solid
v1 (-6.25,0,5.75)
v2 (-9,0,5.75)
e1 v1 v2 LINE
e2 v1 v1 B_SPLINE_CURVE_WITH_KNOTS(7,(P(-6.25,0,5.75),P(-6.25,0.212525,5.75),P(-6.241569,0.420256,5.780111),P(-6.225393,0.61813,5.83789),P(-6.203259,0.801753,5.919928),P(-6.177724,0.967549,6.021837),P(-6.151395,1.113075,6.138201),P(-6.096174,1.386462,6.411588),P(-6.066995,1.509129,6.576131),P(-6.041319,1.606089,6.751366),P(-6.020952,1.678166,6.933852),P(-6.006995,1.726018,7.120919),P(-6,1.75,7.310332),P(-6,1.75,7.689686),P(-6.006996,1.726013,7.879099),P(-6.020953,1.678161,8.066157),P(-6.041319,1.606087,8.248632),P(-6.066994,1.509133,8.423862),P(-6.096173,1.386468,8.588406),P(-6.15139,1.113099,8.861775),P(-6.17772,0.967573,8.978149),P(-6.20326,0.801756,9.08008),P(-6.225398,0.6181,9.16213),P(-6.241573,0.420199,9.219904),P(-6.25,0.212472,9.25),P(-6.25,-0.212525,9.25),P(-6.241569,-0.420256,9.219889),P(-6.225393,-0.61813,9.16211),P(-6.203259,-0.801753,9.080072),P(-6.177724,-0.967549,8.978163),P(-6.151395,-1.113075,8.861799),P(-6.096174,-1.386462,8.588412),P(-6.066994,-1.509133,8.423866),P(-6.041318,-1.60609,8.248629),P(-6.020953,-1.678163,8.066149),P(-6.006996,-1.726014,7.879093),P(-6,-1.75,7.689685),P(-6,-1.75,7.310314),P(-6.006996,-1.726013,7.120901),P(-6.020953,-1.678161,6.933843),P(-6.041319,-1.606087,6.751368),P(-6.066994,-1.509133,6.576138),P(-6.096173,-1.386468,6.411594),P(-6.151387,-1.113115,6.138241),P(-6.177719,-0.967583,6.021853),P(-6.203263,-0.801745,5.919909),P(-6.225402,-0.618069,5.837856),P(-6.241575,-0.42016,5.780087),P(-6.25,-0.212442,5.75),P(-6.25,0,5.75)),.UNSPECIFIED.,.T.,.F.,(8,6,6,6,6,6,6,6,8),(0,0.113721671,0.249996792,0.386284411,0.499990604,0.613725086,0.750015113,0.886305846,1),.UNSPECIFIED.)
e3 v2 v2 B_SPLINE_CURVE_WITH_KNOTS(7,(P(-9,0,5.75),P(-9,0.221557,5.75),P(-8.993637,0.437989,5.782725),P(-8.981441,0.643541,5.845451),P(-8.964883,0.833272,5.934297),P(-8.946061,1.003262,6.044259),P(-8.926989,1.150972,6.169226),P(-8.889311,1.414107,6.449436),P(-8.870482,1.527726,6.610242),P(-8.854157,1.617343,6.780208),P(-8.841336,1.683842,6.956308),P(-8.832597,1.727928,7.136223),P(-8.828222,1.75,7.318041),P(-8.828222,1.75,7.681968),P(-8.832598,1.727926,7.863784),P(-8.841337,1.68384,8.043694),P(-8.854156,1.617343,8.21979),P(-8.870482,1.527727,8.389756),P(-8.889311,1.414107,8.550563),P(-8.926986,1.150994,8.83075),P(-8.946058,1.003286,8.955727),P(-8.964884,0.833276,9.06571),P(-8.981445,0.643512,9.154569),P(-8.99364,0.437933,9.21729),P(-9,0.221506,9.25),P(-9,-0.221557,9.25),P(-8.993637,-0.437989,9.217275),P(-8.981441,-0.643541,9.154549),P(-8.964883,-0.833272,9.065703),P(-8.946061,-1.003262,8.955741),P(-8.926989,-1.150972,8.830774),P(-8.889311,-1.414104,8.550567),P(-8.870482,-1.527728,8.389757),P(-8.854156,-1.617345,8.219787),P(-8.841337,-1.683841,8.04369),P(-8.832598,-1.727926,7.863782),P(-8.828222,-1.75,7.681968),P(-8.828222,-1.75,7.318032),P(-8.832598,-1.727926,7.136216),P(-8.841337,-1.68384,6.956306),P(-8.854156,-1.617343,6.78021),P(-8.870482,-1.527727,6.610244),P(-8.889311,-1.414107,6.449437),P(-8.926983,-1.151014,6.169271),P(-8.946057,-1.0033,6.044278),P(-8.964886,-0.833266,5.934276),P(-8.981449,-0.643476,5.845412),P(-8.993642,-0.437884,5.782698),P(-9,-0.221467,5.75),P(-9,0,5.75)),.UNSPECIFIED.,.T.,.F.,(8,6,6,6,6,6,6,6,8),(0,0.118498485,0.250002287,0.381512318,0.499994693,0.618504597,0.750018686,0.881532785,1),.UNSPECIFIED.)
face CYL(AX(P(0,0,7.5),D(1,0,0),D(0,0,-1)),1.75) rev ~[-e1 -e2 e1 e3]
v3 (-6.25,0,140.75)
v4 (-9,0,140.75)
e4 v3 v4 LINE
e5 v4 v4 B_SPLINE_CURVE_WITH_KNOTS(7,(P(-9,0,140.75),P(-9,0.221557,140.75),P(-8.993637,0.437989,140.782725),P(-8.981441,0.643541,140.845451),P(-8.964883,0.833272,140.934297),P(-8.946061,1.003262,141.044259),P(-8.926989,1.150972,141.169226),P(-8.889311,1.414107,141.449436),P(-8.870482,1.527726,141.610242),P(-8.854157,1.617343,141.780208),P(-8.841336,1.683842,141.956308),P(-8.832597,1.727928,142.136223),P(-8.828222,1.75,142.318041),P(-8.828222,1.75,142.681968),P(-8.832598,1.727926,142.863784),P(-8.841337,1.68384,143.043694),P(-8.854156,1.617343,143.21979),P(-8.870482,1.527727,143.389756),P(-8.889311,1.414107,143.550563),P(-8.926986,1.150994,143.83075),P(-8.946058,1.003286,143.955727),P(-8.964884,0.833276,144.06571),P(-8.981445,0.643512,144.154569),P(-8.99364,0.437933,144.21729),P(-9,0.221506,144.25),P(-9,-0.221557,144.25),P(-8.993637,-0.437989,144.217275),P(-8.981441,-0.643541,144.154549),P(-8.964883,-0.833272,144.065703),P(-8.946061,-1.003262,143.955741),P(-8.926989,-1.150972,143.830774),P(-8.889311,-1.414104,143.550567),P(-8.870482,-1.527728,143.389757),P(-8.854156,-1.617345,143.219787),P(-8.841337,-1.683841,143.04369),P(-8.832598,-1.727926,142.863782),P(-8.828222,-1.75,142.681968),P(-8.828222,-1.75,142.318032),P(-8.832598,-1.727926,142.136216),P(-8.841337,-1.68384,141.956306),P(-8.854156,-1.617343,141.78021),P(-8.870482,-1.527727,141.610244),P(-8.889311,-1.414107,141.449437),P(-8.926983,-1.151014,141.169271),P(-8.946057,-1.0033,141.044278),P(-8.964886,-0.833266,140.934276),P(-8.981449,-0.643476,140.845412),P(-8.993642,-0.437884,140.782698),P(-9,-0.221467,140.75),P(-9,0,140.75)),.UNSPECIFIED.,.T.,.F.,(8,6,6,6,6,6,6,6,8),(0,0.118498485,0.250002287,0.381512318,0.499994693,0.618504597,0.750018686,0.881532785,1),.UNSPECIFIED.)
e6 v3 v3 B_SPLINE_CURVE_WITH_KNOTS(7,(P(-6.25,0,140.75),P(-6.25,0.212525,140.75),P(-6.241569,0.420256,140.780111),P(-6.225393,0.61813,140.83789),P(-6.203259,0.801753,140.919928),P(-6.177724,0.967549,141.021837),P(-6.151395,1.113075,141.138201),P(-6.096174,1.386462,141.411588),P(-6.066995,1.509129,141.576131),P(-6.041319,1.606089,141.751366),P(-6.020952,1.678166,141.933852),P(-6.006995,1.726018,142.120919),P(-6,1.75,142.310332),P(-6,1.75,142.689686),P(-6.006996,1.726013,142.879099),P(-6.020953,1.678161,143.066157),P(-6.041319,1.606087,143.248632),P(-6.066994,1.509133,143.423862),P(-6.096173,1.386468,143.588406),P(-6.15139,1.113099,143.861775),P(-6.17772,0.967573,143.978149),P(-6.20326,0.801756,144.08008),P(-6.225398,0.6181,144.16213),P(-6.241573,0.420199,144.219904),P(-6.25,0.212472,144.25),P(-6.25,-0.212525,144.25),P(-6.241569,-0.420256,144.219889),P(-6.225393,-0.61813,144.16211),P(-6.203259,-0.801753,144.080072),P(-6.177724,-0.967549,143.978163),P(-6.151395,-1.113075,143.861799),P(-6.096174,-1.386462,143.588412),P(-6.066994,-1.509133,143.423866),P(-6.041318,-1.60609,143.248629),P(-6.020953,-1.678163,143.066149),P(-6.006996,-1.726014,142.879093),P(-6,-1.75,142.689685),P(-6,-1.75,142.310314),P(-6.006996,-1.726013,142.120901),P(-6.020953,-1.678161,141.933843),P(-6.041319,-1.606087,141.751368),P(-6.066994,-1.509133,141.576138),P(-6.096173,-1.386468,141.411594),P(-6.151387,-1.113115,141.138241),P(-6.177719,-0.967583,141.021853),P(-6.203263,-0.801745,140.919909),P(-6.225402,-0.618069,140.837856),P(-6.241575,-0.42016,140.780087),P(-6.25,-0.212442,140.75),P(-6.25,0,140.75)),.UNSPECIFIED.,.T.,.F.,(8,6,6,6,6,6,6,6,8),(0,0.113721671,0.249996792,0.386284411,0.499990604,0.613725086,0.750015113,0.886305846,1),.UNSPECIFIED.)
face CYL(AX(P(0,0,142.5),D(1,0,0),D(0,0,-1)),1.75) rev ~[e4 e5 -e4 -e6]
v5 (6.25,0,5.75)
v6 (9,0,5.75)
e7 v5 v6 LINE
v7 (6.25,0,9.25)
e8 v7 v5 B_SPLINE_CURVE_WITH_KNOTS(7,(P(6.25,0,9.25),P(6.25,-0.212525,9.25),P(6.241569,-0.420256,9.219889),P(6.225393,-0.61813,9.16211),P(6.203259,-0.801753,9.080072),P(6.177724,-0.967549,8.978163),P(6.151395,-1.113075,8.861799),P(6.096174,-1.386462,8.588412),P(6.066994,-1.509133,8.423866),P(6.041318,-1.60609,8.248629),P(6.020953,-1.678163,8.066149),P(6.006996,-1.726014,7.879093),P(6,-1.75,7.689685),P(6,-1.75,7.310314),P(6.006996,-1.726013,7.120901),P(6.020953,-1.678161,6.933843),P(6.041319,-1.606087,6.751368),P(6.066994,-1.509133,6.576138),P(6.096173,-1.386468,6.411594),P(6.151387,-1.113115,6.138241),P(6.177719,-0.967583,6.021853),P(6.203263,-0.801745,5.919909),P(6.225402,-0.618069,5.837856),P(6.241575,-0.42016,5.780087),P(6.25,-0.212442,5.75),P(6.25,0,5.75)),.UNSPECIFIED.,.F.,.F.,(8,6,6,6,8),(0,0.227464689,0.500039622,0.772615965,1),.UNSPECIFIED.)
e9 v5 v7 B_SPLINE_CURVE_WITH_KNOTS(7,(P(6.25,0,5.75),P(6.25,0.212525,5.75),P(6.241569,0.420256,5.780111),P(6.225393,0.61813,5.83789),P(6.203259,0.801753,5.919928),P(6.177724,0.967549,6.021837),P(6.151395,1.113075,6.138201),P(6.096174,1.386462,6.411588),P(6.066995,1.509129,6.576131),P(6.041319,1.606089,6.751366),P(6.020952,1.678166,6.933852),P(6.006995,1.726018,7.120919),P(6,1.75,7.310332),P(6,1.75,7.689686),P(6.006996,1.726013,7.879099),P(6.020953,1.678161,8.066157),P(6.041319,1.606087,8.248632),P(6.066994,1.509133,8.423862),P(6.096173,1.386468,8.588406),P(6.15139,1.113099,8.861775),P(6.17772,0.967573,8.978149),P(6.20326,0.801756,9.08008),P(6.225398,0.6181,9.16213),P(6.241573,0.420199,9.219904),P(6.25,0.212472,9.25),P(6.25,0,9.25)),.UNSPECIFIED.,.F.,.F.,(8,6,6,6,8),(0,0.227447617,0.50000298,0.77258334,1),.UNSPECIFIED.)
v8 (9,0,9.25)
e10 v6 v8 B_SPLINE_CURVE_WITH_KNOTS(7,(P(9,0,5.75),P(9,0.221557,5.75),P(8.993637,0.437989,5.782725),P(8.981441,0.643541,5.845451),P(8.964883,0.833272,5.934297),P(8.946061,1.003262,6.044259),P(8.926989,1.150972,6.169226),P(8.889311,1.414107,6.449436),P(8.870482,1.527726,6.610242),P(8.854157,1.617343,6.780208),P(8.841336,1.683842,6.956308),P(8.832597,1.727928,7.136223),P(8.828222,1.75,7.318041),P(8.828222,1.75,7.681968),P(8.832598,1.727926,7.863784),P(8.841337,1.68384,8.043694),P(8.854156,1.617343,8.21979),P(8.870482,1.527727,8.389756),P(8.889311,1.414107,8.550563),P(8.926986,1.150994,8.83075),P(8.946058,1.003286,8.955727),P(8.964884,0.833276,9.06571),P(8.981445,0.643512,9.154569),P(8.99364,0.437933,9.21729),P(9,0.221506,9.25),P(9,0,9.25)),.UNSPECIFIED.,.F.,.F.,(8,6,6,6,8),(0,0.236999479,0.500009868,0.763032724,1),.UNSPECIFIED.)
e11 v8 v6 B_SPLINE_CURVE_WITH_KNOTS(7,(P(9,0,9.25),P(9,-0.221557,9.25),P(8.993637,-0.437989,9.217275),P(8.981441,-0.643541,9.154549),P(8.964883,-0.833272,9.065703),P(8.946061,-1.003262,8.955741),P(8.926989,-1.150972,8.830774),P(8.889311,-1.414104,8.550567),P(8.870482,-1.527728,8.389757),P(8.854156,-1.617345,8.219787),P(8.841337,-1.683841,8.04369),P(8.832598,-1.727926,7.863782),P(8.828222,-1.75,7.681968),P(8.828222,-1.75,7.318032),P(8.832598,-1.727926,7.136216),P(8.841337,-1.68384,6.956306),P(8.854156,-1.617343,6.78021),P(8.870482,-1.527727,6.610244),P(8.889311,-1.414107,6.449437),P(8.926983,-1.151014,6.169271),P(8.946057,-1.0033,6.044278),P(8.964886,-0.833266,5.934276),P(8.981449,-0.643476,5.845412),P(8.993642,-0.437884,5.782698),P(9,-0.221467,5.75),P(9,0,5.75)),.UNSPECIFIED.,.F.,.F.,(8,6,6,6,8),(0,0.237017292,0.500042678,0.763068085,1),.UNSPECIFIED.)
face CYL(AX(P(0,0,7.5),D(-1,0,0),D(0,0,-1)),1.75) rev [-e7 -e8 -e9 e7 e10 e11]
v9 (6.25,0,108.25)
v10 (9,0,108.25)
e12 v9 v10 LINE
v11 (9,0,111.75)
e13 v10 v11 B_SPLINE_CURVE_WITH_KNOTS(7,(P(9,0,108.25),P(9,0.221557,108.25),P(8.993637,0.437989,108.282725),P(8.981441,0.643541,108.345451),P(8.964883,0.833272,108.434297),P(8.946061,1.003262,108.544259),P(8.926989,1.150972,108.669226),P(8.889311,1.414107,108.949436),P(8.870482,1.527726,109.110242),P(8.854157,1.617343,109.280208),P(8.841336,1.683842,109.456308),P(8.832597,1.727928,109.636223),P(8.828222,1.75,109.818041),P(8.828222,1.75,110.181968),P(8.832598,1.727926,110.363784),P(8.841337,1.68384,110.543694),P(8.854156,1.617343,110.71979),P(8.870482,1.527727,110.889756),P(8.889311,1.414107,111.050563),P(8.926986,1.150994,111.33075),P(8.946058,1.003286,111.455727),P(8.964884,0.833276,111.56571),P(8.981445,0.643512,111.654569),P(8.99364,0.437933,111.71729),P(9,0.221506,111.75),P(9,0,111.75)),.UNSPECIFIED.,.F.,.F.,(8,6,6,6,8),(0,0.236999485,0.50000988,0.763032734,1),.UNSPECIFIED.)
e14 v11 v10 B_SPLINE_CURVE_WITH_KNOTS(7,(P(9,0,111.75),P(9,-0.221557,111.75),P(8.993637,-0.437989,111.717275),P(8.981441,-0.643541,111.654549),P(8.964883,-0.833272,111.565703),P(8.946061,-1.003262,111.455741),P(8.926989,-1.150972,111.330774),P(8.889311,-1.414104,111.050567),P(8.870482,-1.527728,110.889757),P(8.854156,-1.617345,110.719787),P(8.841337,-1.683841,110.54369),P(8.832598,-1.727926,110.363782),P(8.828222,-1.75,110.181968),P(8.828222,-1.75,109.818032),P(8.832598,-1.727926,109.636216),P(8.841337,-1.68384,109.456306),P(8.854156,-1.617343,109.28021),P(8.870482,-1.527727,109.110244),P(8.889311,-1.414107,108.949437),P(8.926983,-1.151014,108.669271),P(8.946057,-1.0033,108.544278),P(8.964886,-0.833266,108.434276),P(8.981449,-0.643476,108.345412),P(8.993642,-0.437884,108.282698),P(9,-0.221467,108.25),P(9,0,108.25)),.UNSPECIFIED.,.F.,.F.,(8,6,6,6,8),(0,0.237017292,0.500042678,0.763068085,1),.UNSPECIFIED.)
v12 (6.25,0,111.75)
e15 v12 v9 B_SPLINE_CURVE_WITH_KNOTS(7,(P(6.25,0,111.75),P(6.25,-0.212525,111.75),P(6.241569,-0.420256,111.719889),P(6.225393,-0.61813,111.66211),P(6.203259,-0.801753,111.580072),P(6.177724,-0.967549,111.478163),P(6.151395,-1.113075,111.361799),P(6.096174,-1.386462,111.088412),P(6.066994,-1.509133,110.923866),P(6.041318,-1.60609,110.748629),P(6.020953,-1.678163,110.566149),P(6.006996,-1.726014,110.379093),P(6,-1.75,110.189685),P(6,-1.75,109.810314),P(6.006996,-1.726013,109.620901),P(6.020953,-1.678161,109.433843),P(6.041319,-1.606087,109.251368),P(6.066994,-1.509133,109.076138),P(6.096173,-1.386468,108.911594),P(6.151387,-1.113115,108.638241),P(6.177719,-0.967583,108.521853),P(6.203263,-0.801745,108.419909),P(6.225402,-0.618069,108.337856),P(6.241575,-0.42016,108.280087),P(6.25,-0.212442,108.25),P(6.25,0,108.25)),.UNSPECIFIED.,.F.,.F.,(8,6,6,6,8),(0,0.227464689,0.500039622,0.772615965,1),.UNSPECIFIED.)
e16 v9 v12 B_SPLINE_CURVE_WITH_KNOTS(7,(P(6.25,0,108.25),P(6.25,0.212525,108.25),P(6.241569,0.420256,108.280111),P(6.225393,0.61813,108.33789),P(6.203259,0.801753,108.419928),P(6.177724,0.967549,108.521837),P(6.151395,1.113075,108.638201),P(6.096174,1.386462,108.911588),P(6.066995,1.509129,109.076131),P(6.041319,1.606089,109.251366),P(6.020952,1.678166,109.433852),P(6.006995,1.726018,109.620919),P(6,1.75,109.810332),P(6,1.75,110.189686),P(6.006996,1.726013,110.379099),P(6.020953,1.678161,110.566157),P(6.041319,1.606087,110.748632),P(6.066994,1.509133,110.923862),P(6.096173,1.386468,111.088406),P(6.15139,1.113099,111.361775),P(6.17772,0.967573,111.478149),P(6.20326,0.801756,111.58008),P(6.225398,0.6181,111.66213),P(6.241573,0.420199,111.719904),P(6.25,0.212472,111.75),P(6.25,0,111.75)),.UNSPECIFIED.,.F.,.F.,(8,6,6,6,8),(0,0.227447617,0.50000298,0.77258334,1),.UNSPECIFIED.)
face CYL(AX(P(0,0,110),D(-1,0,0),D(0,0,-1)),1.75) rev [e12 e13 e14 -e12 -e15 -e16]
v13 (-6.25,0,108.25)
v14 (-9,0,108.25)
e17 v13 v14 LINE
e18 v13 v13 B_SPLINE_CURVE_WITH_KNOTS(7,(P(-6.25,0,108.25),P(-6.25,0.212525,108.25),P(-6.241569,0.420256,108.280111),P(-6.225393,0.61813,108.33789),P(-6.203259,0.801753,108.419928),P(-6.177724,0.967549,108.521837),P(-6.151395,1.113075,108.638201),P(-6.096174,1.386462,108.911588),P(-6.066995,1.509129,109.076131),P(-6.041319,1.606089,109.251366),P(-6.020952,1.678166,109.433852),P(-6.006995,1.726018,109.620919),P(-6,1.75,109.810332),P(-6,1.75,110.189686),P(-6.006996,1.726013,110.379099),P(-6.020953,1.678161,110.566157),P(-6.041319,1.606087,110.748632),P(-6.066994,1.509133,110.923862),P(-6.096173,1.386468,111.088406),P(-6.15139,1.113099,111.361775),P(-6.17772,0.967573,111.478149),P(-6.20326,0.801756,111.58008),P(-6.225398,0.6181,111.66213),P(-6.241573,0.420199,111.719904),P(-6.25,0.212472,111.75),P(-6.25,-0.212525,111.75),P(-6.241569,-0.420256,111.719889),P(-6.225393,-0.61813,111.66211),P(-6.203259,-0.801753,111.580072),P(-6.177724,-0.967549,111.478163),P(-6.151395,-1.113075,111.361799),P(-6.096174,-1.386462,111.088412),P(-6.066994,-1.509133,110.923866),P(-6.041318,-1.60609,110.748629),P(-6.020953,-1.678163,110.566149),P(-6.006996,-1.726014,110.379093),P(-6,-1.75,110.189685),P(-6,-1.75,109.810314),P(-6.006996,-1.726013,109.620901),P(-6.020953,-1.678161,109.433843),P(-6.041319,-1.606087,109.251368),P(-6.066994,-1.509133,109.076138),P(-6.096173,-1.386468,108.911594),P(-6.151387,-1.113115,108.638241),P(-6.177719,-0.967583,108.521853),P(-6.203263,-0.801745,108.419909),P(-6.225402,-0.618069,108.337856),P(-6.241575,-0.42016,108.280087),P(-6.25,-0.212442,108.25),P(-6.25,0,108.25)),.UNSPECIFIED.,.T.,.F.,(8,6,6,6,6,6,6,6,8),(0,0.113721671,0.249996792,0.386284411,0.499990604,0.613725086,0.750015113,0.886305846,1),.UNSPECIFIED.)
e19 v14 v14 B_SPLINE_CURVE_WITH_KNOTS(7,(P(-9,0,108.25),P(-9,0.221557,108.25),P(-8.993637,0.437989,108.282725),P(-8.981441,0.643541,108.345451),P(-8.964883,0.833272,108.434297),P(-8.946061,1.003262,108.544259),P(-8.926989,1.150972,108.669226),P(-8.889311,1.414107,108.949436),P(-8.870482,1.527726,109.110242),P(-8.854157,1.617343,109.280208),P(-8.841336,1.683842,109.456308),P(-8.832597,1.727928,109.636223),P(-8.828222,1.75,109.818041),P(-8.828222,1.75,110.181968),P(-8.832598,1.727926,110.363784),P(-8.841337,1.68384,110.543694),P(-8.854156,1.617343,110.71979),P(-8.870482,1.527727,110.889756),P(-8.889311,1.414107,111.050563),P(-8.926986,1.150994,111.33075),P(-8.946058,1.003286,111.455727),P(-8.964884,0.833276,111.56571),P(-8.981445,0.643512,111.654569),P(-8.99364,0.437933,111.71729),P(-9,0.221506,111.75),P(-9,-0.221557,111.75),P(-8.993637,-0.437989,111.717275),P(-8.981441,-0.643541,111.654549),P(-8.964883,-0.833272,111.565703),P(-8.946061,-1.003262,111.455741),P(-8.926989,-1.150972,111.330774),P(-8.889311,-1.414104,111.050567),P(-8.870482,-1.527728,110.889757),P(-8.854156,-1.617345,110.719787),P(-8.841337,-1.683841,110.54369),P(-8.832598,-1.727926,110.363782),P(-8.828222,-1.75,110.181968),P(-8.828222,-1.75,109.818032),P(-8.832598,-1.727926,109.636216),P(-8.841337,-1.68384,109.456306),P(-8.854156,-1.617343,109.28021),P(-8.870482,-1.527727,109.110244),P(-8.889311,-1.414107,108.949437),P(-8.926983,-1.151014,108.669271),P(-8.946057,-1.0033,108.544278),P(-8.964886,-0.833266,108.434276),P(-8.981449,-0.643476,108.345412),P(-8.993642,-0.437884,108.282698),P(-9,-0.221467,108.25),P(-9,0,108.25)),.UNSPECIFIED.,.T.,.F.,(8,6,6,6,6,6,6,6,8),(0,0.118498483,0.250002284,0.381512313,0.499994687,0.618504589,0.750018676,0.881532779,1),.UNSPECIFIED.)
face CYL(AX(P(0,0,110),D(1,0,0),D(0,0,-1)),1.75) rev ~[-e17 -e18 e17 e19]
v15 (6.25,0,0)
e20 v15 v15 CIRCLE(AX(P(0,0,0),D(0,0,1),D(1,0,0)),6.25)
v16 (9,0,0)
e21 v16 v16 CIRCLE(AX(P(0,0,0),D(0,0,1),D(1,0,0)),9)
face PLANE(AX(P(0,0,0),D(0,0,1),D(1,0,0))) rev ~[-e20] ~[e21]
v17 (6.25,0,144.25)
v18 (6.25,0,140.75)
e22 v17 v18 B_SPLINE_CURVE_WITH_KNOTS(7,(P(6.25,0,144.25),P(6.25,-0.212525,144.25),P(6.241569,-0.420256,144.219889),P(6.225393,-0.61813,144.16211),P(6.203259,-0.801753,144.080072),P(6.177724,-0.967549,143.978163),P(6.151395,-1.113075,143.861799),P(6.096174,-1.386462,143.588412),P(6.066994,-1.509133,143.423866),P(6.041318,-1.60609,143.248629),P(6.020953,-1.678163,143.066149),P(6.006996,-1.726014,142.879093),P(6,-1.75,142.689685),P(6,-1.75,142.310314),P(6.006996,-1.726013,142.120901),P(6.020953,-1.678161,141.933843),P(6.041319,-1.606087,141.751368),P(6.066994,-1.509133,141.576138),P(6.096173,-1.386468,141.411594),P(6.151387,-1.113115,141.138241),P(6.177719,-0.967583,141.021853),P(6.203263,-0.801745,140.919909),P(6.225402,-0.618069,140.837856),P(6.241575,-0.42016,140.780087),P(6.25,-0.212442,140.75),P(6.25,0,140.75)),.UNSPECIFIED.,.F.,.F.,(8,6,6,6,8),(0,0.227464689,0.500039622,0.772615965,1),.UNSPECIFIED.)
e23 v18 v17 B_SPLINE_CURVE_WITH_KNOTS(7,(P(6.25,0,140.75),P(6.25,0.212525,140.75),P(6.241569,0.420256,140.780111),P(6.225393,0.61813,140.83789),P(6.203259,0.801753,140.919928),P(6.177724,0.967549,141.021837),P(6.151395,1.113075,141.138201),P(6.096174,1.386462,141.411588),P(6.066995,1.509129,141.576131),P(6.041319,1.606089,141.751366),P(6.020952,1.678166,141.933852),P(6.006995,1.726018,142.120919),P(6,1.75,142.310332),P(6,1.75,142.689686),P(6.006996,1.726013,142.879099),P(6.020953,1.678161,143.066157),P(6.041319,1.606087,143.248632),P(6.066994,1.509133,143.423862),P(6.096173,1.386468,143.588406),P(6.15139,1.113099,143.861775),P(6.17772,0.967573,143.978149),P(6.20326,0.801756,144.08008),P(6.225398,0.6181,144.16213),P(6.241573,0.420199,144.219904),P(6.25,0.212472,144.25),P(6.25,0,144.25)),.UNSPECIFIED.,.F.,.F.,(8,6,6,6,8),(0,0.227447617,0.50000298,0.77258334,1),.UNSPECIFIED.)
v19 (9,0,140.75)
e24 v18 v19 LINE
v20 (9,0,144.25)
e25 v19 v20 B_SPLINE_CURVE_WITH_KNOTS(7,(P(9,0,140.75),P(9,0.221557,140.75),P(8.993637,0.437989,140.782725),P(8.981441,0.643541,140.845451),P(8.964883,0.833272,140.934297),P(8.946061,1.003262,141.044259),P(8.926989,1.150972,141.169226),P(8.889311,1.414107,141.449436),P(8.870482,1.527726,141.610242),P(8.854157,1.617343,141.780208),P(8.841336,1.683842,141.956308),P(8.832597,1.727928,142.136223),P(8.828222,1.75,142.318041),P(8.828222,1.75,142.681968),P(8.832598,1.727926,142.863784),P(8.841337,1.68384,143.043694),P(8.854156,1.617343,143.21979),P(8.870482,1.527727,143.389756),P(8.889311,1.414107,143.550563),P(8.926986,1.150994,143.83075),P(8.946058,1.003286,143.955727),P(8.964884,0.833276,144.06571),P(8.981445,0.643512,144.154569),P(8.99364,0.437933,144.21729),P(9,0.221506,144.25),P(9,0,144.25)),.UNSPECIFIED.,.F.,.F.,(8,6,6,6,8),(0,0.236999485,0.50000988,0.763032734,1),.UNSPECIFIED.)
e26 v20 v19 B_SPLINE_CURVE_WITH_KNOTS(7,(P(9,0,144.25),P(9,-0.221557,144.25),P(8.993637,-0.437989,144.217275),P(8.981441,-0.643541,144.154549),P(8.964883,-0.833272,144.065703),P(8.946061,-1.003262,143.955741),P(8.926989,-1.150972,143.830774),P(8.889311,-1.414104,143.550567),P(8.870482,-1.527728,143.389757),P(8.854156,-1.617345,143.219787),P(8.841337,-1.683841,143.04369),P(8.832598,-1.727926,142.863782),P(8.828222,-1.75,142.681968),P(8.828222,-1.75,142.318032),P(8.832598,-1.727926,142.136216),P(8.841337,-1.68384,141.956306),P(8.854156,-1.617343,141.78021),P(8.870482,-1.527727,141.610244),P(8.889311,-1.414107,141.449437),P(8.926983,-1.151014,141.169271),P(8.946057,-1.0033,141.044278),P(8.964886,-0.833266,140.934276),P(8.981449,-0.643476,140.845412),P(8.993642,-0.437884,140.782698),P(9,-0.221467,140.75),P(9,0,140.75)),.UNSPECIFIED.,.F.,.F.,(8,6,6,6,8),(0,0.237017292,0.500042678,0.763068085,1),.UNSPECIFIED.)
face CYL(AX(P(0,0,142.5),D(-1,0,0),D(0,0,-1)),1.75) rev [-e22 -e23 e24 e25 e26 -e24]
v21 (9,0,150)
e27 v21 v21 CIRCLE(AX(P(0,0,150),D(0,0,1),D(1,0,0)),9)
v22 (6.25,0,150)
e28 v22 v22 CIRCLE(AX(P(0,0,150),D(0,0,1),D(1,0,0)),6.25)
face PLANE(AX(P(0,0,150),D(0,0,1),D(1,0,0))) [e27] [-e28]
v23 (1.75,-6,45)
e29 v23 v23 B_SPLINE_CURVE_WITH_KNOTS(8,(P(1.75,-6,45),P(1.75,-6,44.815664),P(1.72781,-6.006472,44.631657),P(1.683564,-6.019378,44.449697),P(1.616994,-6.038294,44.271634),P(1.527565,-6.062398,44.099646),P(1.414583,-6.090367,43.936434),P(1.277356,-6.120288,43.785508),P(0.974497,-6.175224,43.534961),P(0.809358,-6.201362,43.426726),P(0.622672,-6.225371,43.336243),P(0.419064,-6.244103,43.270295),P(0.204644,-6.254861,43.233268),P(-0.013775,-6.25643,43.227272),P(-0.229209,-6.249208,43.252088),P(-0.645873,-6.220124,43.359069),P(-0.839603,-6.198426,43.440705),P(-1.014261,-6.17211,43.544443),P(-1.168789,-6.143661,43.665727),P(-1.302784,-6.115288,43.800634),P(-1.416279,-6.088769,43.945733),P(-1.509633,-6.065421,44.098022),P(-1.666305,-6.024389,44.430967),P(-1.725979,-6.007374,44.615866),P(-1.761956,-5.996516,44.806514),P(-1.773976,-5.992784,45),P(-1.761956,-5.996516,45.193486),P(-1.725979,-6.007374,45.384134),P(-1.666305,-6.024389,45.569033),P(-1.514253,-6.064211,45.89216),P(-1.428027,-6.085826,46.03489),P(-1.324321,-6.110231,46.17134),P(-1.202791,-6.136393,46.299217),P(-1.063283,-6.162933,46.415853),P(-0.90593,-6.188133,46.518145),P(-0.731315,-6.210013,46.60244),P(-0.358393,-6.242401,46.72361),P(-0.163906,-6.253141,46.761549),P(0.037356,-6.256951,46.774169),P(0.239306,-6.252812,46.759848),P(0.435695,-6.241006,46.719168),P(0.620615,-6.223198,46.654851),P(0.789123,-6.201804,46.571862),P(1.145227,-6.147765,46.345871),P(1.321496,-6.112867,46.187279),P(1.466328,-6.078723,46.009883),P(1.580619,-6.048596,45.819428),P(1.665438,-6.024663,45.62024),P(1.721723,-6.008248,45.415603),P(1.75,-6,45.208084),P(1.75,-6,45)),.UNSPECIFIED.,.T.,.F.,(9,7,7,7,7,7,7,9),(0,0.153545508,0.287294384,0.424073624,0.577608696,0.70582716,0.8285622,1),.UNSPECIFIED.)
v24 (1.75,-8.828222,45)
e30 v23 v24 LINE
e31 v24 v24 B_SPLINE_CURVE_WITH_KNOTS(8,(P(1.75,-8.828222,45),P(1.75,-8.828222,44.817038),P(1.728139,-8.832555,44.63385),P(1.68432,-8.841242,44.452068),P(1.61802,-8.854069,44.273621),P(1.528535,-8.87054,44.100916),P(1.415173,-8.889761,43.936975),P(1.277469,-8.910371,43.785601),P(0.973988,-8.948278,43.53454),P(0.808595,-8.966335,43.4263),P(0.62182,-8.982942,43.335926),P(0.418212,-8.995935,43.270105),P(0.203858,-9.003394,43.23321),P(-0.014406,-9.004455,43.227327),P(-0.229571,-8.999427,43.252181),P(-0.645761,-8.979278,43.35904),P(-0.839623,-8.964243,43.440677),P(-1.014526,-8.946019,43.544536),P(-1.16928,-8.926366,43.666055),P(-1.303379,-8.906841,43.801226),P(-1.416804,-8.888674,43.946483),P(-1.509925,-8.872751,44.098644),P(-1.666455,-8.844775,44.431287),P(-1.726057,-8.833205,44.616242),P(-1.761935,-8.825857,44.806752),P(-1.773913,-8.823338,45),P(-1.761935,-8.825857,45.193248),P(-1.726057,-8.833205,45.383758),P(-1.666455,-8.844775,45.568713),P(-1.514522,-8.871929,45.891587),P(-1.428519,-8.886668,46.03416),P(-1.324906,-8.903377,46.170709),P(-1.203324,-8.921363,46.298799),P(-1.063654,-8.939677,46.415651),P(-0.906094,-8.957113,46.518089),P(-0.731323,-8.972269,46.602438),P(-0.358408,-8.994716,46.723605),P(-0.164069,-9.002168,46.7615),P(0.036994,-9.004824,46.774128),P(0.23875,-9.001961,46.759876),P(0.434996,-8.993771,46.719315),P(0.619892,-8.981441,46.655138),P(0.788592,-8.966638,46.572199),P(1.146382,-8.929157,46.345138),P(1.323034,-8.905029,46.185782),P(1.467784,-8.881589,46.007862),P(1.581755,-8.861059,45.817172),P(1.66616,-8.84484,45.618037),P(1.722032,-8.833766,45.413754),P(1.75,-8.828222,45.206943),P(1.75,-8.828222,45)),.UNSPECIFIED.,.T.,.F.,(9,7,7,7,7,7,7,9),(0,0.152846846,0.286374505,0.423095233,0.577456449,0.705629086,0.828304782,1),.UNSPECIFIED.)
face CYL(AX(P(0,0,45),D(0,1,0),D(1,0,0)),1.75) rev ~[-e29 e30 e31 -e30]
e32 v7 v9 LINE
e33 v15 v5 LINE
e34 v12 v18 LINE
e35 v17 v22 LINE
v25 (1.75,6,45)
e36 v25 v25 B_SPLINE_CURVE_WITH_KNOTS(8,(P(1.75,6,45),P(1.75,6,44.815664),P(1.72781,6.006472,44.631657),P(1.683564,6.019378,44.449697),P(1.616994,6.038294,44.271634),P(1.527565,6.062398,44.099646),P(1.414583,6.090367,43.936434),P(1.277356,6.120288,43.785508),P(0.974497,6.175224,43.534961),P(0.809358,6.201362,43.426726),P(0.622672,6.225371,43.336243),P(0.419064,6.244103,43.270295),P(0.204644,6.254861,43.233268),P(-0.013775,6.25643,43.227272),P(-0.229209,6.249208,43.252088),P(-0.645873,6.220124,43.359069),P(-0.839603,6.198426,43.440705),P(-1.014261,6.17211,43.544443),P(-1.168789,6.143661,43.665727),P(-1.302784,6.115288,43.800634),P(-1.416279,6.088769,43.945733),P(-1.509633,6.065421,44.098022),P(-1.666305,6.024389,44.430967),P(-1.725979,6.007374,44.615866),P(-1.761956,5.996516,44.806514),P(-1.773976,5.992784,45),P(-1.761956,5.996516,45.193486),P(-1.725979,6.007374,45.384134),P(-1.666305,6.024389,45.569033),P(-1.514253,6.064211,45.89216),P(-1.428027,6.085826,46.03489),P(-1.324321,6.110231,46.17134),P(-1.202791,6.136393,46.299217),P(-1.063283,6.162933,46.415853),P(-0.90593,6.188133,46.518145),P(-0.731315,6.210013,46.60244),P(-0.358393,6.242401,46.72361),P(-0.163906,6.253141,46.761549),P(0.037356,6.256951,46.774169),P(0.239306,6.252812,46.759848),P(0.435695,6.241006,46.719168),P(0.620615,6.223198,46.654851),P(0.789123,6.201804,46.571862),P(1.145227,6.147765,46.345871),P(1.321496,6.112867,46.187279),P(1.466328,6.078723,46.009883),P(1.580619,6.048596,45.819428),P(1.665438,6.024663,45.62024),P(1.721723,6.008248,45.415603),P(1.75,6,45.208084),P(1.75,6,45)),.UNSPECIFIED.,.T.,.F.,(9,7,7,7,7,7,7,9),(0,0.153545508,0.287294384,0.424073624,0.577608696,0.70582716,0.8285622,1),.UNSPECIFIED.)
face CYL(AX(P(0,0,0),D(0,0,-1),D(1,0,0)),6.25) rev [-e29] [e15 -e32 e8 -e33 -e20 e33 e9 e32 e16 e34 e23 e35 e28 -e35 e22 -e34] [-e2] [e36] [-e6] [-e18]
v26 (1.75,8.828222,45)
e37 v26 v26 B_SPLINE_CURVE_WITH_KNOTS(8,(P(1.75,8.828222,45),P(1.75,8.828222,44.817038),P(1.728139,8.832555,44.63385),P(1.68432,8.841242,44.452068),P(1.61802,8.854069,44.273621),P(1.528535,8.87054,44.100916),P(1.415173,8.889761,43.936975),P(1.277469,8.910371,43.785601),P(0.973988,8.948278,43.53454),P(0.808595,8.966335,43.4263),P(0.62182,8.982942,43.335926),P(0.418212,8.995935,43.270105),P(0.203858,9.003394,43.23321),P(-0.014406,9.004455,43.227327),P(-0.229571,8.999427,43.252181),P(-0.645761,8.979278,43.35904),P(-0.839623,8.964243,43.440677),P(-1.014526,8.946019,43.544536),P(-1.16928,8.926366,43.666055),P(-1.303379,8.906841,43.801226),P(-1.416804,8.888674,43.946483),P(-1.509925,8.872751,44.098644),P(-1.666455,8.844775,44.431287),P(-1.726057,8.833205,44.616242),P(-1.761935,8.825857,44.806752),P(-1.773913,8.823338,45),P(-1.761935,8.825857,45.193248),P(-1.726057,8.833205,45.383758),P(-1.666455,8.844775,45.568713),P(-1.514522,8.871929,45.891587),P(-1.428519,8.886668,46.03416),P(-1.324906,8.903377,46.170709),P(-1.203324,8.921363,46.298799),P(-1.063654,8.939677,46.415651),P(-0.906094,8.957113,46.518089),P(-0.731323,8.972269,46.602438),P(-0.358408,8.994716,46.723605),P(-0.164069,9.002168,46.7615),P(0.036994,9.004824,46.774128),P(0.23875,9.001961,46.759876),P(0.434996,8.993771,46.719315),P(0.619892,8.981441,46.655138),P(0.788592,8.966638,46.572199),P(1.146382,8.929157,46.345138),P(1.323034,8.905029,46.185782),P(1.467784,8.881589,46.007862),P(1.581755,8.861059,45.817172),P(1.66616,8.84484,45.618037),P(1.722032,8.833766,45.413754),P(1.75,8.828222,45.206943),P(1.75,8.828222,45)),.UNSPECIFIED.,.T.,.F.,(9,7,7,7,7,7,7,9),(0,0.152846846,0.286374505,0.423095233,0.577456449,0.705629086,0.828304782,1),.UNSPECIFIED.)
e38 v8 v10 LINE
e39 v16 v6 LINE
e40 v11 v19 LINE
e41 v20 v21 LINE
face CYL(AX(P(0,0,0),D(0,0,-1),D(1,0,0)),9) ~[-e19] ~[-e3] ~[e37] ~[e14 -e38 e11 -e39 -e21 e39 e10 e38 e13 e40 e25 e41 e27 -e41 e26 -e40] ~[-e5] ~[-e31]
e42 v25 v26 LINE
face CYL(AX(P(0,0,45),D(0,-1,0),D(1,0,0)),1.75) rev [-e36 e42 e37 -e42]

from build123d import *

# Parameters (mm, degrees)
SKETCH_1_R               = 9
SKETCH_1_R_2             = 6.25
EXTRUDE_1_DEPTH          = 150
SKETCH_2_R               = 1.75
CUT_EXTRUDE_1_DEPTH      = 10
CUT_EXTRUDE_1_DEPTH_BACK = 10
SKETCH_3_R               = 1.75
CUT_EXTRUDE_2_DEPTH      = 10.0000001
CUT_EXTRUDE_2_DEPTH_BACK = 10.0000001


with BuildPart() as part:
    # ｽｹｯﾁ1 → ﾎﾞｽ - 押し出し1 (new body)
    with BuildSketch(Plane.XY):
        Circle(SKETCH_1_R)
        Circle(SKETCH_1_R_2, mode=Mode.SUBTRACT)
    extrude(amount=EXTRUDE_1_DEPTH)

    # ｽｹｯﾁ2 → ｶｯﾄ - 押し出し1 (cut, two sides)
    with BuildSketch(Plane(origin=(0, 0, 0), x_dir=(0, 0, -1), z_dir=(1, 0, 0))) as cut_extrude_1_sk:
        with Locations((-7.5, 0)):
            Circle(SKETCH_2_R)
        with Locations((-142.5, 0)):
            Circle(SKETCH_2_R)
        with Locations((-110, 0)):
            Circle(SKETCH_2_R)
    extrude(amount=CUT_EXTRUDE_1_DEPTH, mode=Mode.SUBTRACT)
    extrude(cut_extrude_1_sk.sketch, amount=-CUT_EXTRUDE_1_DEPTH_BACK, mode=Mode.SUBTRACT)

    # ｽｹｯﾁ3 → ｶｯﾄ - 押し出し2 (cut, two sides)
    with BuildSketch(Plane(origin=(0, 0, 0), x_dir=(1, 0, 0), z_dir=(0, 1, 0))) as cut_extrude_2_sk:
        with Locations((0, -45)):
            Circle(SKETCH_3_R)
    extrude(amount=CUT_EXTRUDE_2_DEPTH, mode=Mode.SUBTRACT)
    extrude(cut_extrude_2_sk.sketch, amount=-CUT_EXTRUDE_2_DEPTH_BACK, mode=Mode.SUBTRACT)


solid = part.part
